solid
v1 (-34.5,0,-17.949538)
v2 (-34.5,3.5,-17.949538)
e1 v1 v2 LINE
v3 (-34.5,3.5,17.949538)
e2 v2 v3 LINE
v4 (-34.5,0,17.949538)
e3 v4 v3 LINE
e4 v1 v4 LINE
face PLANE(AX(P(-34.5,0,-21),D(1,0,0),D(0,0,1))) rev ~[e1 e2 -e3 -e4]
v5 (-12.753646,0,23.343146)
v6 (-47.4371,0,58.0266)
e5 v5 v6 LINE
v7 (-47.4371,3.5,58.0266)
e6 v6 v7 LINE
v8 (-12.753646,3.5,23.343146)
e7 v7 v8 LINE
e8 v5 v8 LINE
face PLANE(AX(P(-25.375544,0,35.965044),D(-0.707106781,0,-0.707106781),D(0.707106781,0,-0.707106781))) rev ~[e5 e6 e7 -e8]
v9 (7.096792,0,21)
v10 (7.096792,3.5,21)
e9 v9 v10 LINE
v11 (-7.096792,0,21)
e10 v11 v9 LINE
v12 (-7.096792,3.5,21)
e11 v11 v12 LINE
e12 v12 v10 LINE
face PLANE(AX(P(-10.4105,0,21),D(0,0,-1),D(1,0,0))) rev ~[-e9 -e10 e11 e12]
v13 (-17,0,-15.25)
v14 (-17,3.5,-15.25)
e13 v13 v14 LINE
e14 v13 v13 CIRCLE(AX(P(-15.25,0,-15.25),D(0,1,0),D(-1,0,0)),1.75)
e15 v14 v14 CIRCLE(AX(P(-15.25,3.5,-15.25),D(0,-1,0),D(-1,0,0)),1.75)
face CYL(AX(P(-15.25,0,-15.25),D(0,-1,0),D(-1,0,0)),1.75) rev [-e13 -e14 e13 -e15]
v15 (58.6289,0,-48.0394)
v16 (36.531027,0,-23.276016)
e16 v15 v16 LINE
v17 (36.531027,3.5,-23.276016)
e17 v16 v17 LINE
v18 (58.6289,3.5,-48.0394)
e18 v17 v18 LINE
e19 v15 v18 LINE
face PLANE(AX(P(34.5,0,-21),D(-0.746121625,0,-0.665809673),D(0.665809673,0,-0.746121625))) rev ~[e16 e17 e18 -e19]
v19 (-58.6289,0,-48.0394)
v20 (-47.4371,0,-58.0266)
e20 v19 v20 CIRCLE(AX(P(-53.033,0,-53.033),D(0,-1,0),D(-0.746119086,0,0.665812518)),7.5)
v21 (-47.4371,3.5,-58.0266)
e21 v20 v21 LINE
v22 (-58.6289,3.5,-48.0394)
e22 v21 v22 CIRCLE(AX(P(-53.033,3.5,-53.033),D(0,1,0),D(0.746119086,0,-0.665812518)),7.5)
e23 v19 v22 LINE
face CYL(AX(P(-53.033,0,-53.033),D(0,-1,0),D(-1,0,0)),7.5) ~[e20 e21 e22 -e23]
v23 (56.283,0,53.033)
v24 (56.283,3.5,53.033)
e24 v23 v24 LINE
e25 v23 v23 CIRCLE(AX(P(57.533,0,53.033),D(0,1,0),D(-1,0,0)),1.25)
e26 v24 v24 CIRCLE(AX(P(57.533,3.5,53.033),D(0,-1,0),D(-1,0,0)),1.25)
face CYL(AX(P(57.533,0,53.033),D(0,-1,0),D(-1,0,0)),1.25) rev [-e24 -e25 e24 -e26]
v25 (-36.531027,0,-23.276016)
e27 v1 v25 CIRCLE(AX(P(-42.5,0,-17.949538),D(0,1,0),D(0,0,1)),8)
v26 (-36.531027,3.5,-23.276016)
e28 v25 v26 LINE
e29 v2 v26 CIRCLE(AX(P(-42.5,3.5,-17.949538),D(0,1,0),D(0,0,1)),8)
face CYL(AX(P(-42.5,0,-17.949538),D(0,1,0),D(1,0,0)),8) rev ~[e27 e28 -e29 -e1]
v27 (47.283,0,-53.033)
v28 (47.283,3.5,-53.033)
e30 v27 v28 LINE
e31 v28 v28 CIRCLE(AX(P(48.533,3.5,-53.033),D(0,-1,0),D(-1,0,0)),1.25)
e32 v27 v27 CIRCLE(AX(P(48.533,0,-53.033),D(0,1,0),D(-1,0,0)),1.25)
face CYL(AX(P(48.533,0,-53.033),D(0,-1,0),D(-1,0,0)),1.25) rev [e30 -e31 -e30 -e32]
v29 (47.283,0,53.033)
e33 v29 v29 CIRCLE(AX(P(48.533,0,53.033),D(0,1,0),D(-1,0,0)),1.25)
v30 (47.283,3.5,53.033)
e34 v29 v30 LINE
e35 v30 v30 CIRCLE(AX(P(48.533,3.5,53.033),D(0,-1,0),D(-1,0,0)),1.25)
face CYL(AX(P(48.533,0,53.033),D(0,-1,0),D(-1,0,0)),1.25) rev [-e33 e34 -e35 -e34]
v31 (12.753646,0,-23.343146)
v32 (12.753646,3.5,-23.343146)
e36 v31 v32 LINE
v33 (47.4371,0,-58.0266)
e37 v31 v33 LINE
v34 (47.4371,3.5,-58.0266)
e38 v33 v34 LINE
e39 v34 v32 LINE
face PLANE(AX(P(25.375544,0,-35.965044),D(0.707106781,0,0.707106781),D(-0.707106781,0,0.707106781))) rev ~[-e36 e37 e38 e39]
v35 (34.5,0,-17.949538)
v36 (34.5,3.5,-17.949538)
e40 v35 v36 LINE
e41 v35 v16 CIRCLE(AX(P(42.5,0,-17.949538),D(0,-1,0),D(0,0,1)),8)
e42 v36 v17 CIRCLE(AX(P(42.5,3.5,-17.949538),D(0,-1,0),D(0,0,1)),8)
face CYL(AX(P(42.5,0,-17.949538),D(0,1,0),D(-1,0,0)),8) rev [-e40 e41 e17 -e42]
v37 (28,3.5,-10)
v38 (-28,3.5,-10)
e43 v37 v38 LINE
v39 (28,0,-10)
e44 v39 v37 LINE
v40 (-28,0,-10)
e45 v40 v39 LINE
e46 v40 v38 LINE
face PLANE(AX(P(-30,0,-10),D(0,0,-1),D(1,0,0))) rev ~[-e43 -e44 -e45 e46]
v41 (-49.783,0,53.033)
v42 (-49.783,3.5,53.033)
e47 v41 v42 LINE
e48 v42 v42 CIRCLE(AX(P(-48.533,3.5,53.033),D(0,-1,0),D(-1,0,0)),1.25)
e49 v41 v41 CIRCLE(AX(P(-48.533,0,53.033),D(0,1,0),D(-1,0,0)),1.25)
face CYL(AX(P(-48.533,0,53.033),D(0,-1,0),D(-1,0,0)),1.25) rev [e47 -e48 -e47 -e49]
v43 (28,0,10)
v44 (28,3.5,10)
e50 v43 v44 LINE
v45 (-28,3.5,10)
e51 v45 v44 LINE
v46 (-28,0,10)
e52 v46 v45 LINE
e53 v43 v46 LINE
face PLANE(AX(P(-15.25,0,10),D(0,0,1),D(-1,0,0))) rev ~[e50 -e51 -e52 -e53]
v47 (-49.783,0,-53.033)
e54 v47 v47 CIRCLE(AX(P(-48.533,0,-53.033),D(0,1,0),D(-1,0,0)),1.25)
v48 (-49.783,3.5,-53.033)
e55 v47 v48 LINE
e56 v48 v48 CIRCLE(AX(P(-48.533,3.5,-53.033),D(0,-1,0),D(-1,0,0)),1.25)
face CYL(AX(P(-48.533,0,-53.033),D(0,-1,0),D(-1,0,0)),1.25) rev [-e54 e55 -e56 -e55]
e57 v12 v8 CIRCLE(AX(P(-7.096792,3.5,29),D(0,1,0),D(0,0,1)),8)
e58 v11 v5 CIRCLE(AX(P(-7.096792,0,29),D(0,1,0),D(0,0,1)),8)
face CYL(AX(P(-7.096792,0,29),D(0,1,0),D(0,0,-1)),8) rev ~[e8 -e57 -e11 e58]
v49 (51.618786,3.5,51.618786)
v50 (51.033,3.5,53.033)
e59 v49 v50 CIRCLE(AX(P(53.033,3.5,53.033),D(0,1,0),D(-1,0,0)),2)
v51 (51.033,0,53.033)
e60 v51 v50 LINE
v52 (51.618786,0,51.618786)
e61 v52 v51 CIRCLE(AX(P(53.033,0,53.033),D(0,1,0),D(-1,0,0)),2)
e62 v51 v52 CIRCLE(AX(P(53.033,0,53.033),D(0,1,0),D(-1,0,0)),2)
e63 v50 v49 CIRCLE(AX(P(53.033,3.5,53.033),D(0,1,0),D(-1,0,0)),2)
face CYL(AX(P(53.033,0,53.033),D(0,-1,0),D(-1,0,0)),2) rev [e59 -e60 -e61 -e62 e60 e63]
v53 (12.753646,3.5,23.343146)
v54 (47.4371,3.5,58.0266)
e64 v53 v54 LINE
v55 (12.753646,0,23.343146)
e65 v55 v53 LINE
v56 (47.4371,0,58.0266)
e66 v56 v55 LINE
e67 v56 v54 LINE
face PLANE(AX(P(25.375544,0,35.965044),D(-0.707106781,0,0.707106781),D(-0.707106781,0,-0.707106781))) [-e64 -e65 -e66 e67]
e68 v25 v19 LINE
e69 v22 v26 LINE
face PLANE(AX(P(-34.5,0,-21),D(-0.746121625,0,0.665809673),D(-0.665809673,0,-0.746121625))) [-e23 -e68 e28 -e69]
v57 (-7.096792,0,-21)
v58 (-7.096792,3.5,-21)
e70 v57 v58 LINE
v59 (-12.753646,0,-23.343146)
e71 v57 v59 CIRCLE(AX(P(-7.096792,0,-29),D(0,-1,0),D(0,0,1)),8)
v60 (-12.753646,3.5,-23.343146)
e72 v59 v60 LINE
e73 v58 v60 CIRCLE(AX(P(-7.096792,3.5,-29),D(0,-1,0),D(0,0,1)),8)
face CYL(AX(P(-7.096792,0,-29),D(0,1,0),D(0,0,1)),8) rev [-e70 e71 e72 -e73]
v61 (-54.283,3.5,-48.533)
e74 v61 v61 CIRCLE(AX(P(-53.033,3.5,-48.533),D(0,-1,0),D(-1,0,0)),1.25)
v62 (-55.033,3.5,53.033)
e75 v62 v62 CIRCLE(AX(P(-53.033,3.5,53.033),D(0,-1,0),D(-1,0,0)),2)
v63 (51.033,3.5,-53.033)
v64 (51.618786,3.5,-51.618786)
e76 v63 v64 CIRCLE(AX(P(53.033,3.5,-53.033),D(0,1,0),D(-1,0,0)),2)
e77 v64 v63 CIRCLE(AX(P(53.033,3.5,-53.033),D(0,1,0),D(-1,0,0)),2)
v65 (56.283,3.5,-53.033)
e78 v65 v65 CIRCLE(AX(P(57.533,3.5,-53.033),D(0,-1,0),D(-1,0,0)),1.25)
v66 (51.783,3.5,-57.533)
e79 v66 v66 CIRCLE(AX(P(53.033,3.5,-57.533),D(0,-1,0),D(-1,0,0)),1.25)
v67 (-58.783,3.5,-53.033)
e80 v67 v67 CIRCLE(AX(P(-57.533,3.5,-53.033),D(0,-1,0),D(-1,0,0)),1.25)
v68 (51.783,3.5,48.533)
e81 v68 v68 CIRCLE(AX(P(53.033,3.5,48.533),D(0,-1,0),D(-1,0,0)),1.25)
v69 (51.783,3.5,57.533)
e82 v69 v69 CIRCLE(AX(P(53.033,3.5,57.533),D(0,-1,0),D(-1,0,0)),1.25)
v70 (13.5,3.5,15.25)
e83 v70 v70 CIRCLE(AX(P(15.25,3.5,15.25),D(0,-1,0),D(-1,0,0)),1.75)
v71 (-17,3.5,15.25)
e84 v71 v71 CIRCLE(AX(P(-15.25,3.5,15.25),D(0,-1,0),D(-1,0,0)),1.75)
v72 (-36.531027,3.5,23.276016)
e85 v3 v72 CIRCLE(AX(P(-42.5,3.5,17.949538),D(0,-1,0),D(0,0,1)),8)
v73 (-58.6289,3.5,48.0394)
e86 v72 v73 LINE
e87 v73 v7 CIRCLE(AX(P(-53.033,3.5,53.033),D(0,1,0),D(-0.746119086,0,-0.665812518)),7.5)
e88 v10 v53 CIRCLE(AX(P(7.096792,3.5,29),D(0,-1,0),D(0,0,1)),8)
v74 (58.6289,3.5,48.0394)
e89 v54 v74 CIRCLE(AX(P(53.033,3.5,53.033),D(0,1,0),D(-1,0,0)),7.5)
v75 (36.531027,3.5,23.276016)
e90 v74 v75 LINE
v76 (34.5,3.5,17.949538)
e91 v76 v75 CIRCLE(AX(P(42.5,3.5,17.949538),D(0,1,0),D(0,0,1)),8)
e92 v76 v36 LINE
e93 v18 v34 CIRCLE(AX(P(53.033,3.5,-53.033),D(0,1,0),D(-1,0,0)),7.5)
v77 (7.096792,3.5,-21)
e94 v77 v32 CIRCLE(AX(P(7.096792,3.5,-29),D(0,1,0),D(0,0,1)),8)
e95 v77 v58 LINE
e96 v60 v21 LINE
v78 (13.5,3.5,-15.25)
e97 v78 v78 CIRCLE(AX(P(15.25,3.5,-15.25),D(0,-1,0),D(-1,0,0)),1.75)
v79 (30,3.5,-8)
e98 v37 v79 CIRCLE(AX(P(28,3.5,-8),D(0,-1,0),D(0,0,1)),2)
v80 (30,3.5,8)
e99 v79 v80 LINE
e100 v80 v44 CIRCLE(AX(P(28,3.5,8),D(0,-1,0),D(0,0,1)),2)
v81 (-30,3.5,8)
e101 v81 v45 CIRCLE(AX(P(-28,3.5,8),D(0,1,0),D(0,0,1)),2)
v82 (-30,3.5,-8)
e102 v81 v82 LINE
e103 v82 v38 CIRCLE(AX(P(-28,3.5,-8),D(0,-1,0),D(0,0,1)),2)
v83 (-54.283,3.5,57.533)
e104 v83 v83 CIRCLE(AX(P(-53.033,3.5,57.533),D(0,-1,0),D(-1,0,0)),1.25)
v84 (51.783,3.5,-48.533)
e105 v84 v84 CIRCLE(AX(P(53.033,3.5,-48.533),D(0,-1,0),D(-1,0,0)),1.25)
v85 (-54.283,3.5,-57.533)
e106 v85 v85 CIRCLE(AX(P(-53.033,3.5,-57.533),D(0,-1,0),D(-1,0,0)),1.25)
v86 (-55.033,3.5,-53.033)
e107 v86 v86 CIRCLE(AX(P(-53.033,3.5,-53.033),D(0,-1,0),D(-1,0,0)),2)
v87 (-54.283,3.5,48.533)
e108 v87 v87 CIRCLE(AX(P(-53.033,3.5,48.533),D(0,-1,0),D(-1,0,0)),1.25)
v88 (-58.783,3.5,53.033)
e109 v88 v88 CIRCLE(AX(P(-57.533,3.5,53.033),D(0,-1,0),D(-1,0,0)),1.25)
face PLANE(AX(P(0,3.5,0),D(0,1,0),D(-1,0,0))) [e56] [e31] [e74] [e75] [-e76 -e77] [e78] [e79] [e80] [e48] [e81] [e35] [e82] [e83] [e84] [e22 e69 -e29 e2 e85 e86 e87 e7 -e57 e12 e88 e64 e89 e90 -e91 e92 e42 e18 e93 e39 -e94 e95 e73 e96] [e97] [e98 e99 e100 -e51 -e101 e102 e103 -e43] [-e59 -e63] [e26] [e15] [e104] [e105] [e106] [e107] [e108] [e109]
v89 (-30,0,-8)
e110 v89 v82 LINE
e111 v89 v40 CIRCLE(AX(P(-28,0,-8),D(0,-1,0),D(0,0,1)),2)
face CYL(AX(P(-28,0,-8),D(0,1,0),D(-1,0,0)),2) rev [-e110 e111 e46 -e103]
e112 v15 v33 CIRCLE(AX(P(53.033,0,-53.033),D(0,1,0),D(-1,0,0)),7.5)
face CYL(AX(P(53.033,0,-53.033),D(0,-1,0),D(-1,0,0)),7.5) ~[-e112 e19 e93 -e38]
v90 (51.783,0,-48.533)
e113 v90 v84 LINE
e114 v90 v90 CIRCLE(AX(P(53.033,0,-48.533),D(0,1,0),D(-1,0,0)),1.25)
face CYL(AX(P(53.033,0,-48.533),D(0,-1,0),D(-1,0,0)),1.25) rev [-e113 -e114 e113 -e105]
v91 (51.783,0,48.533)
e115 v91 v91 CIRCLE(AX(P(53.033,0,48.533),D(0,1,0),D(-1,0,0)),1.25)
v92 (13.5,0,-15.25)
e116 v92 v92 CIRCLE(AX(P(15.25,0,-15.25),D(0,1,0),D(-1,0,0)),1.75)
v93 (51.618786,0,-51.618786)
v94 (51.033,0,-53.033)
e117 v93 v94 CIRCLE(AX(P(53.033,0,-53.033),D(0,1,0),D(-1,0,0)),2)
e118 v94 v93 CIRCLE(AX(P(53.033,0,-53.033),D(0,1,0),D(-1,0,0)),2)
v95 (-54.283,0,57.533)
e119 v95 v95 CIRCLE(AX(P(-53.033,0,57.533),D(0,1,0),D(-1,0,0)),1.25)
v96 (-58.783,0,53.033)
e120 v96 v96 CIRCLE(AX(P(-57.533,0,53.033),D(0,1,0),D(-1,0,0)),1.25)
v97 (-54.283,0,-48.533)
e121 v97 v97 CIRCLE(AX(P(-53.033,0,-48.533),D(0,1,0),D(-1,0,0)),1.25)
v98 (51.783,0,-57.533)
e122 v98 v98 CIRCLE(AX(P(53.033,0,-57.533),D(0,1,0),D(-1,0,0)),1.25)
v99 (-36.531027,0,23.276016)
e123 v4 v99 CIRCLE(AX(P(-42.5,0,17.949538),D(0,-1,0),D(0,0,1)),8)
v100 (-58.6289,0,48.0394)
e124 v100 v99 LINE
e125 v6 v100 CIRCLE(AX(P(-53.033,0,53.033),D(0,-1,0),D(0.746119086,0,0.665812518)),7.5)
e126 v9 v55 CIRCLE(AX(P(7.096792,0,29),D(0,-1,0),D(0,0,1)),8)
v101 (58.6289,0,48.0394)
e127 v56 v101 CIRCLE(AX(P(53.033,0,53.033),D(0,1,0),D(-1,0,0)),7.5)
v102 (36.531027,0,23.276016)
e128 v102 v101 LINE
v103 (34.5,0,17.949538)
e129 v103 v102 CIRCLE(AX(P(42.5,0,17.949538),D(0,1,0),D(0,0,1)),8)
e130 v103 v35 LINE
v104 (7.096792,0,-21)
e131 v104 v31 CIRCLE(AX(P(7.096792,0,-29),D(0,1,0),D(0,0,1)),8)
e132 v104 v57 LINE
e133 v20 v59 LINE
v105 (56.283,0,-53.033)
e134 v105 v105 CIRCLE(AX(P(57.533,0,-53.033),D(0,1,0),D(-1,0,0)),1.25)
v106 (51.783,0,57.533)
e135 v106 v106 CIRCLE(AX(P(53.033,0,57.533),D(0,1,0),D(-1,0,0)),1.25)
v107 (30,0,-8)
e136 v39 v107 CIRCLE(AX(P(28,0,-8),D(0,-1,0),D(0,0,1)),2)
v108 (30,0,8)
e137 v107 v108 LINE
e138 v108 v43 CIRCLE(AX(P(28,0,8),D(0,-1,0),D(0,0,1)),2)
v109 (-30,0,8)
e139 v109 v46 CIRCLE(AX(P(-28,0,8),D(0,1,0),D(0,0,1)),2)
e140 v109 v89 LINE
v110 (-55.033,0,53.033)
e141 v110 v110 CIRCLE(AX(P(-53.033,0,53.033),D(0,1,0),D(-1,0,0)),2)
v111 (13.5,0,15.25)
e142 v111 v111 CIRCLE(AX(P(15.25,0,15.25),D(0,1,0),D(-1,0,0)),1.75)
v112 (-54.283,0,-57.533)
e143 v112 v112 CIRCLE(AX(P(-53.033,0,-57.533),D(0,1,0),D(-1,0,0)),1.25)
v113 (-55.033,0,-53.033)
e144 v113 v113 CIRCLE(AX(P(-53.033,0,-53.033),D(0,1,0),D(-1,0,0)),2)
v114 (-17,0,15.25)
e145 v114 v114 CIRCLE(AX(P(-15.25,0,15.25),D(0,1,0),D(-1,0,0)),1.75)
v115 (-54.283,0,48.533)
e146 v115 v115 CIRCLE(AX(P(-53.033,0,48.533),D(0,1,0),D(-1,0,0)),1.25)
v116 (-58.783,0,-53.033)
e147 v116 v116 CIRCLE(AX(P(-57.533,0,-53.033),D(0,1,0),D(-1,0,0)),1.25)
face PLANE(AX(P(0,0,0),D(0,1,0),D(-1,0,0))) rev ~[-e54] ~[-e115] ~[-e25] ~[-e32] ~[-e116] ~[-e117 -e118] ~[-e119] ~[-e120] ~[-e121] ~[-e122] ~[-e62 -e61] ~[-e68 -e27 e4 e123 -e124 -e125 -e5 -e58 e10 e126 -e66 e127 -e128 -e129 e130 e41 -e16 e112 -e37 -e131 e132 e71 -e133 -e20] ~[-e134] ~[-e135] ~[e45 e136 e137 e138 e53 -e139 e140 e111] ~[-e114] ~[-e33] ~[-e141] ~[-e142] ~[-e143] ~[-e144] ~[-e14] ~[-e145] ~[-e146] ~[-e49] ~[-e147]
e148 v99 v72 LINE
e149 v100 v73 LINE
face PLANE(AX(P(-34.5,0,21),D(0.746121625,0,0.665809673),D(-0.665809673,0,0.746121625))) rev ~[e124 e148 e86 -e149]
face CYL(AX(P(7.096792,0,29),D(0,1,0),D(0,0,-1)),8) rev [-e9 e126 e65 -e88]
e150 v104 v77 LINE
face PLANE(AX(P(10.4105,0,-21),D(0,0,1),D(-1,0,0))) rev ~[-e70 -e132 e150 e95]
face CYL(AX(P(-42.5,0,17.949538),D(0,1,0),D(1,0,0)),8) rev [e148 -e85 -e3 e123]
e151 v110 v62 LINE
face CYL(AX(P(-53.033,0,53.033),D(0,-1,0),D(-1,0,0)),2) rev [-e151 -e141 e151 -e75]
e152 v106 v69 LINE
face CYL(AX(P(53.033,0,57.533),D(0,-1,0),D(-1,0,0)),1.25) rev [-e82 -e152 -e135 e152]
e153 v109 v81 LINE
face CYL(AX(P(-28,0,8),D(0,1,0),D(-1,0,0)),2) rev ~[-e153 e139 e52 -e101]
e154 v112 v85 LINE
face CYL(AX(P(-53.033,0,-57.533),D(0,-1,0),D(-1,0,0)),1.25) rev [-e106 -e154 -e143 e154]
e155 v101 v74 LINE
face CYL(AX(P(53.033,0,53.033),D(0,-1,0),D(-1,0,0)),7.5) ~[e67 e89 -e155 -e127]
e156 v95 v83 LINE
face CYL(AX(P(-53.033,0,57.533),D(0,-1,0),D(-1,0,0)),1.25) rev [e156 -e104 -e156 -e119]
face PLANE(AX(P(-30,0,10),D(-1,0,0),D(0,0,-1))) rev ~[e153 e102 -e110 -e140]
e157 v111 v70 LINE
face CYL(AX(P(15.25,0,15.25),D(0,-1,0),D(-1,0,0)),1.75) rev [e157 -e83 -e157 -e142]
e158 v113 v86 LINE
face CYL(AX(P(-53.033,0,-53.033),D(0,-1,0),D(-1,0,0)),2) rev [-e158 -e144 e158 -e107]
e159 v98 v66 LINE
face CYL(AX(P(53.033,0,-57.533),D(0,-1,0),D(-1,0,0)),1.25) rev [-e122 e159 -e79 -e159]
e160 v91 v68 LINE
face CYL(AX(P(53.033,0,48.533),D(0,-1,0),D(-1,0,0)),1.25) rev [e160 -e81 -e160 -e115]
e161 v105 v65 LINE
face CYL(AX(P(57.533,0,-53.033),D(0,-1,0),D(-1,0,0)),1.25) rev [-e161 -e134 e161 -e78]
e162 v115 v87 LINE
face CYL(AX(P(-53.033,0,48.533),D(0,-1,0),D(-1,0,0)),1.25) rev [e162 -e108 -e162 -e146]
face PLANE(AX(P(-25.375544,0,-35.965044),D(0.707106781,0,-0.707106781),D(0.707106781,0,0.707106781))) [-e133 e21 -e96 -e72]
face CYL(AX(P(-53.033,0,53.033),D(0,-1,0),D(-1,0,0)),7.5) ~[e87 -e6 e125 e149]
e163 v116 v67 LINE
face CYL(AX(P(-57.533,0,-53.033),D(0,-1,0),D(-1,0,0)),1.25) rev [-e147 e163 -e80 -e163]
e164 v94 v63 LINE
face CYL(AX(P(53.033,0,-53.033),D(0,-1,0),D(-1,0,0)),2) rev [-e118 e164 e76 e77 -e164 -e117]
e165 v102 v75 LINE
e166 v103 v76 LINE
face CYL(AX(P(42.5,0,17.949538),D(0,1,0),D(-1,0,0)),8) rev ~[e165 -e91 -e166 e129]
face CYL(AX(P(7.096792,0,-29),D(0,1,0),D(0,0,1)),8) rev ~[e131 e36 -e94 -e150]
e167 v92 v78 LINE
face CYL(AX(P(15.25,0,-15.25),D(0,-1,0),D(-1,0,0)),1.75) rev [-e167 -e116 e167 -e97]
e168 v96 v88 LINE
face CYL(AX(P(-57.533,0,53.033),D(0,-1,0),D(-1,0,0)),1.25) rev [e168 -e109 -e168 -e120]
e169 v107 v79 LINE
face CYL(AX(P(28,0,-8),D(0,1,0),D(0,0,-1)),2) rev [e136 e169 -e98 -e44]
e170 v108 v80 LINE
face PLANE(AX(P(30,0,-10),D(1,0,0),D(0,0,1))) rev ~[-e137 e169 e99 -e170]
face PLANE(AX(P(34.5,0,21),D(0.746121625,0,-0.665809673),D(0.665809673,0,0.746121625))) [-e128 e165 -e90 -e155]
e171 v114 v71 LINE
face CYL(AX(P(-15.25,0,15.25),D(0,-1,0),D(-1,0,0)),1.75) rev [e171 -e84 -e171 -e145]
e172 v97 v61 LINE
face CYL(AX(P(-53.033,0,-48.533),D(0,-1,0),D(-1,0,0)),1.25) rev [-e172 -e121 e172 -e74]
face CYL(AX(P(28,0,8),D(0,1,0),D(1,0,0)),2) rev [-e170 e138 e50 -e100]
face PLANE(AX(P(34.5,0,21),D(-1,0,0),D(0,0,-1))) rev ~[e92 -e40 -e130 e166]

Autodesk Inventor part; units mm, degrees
ref_plane "YZ Plane" through (0, 0, 0) normal (1, 0, 0) x (0, 1, 0)
ref_plane "XZ Plane" through (0, 0, 0) normal (0, 1, 0) x (-1, 0, 0)
ref_plane "XY Plane" through (0, 0, 0) normal (0, 0, 1) x (1, 0, 0)
sketch "Sketch1" plane through (0, 0, 0) normal (0, 1, 0) x (-1, 0, 0)
  line L0 (15.25, -15.25) -> (-15.25, -15.25)
  line L1 (-15.25, 15.25) -> (15.25, 15.25)
  line L2 (15.25, -15.25) -> (-15.25, 15.25) construction
  line L3 (-15.25, -15.25) -> (15.25, 15.25) construction
  circle A0 centre (15.25, -15.25) radius 1.75
  circle A1 centre (-15.25, -15.25) radius 1.75
  circle A2 centre (15.25, 15.25) radius 1.75
  circle A3 centre (-15.25, 15.25) radius 1.75
  line L4 (21, -15.25) -> (-21, -15.25)
  line L5 (-21, -15.25) -> (-21, 15.25)
  line L6 (-21, 15.25) -> (21, 15.25)
  line L7 (21, 15.25) -> (21, -15.25)
  line L8 (21, -15.25) -> (-21, 15.25) construction
  line L9 (-21, -15.25) -> (21, 15.25) construction
  circle A4 centre (15.25, 15.25) radius 2.5
  circle A5 centre (-15.25, 15.25) radius 2.5
  circle A6 centre (-15.25, -15.25) radius 2.5
  circle A7 centre (15.25, -15.25) radius 2.5
  line L10 (22.5, -17.75) -> (-22.5, -17.75)
  line L11 (-22.5, -17.75) -> (-22.5, 17.75)
  line L12 (-22.5, 17.75) -> (22.5, 17.75)
  line L13 (22.5, 17.75) -> (22.5, -17.75)
  line L14 (22.5, -17.75) -> (-22.5, 17.75) construction
  line L15 (-22.5, -17.75) -> (22.5, 17.75) construction
  point P0 (0, 0)
  point P1 (12.75, 15.25)
  point P2 (17.75, 15.25)
  point P3 (17.75, -15.25)
  point P4 (12.75, -15.25)
  point P5 (-12.75, -15.25)
  point P6 (-17.75, -15.25)
  point P7 (-17.75, 15.25)
  point P8 (-12.75, 15.25)
  dimension "d0" = 30.5
  dimension "d1" = 30.5
  dimension "d2" = 3.5
  dimension "d3" = 3.5
  dimension "d4" = 3.5
  dimension "d5" = 3.5
  dimension "d6" = 42
  dimension "d7" = 5
  dimension "d8" = 5
  dimension "d9" = 5
  dimension "d10" = 5
  dimension "d11" = 45
sketch "Sketch2" plane through (0, 0, 0) normal (0, 1, 0) x (-1, 0, 0)
  line L0 (30, -10) -> (-30, -10)
  line L1 (-30, -10) -> (-30, 10)
  line L2 (-30, 10) -> (30, 10)
  line L3 (30, 10) -> (30, -10)
  line L4 (30, -10) -> (-30, 10) construction
  line L5 (-30, -10) -> (30, 10) construction
  line L6 (2.5, -2.5) -> (-2.5, -2.5)
  line L7 (-2.5, -2.5) -> (-2.5, 2.5)
  line L8 (-2.5, 2.5) -> (2.5, 2.5)
  line L9 (2.5, 2.5) -> (2.5, -2.5)
  line L10 (2.5, -2.5) -> (-2.5, 2.5) construction
  line L11 (-2.5, -2.5) -> (2.5, 2.5) construction
  line L12 (0, 0) -> (53.033, 53.033)
  line L13 (0, 0) -> (53.033, -53.033)
  line L14 (0, 0) -> (-53.033, -53.033)
  line L15 (0, 0) -> (-53.033, 53.033)
  circle A0 centre (-53.033, -53.033) radius 32.5
  circle A1 centre (53.033, -53.033) radius 32.5
  circle A2 centre (53.033, 53.033) radius 32.5
  circle A3 centre (-53.033, 53.033) radius 32.5
  circle A4 centre (-53.033, 53.033) radius 7.5
  circle A5 centre (53.033, 53.033) radius 7.5
  circle A6 centre (-53.033, -53.033) radius 7.5
  circle A7 centre (53.033, -53.033) radius 7.5
  line L16 (34.5, 21) -> (-34.5, 21)
  line L17 (-34.5, 21) -> (-34.5, -21)
  line L18 (-34.5, -21) -> (34.5, -21)
  line L19 (34.5, -21) -> (34.5, 21)
  line L20 (34.5, 21) -> (-34.5, -21) construction
  line L21 (-34.5, 21) -> (34.5, -21) construction
  line L22 (34.5, -21) -> (58.6289, -48.0394)
  line L23 (58.6289, -48.0394) -> (47.4371, -58.0266)
  line L24 (47.4371, -58.0266) -> (10.4105, -21)
  line L25 (-34.5, -21) -> (-58.6289, -48.0394)
  line L26 (-47.4371, -58.0266) -> (-10.4105, -21)
  line L27 (-34.5, 21) -> (-58.6289, 48.0394)
  line L28 (-47.4371, 58.0266) -> (-10.4105, 21)
  line L29 (47.4371, 58.0266) -> (10.4105, 21)
  line L30 (34.5, 21) -> (58.6289, 48.0394)
  line L31 (15.25, 15.25) -> (-15.25, 15.25)
  line L32 (-15.25, 15.25) -> (-15.25, -15.25)
  line L33 (-15.25, -15.25) -> (15.25, -15.25)
  line L34 (15.25, -15.25) -> (15.25, 15.25)
  line L35 (15.25, 15.25) -> (-15.25, -15.25) construction
  line L36 (-15.25, 15.25) -> (15.25, -15.25) construction
  circle A8 centre (15.25, -15.25) radius 1.75
  circle A9 centre (-15.25, -15.25) radius 1.75
  circle A10 centre (15.25, 15.25) radius 1.75
  circle A11 centre (-15.25, 15.25) radius 1.75
  circle A12 centre (53.033, 53.033) radius 4.5
  circle A13 centre (-53.033, 53.033) radius 4.5
  circle A14 centre (-53.033, -53.033) radius 4.5
  circle A15 centre (53.033, -53.033) radius 4.5
  line L37 (57.533, 53.033) -> (48.533, 53.033)
  line L38 (53.033, 57.533) -> (53.033, 48.533)
  circle A16 centre (57.533, 53.033) radius 1.25
  circle A17 centre (53.033, 48.533) radius 1.25
  circle A18 centre (48.533, 53.033) radius 1.25
  circle A19 centre (53.033, 57.533) radius 1.25
  circle A20 centre (-53.033, 57.533) radius 1.25
  circle A21 centre (-53.033, 48.533) radius 1.25
  circle A22 centre (-57.533, 53.033) radius 1.25
  circle A23 centre (-48.533, 53.033) radius 1.25
  circle A24 centre (-57.533, -53.033) radius 1.25
  circle A25 centre (-48.533, -53.033) radius 1.25
  circle A26 centre (-53.033, -57.533) radius 1.25
  circle A27 centre (-53.033, -48.533) radius 1.25
  circle A28 centre (48.533, -53.033) radius 1.25
  circle A29 centre (57.533, -53.033) radius 1.25
  circle A30 centre (53.033, -57.533) radius 1.25
  circle A31 centre (53.033, -48.533) radius 1.25
  circle A32 centre (53.033, 53.033) radius 2
  circle A33 centre (-53.033, 53.033) radius 2
  circle A34 centre (-53.033, -53.033) radius 2
  circle A35 centre (53.033, -53.033) radius 2
  dimension "d14" = 60
  dimension "d15" = 20
  dimension "d16" = 5
  dimension "d17" = 5
  dimension "d20" = 75
  dimension "d21" = 75
  dimension "d22" = 75
  dimension "d23" = 65
  dimension "d24" = 65
  dimension "d25" = 65
  dimension "d26" = 65
  dimension "d27" = 75
  dimension "d28" = 15
  dimension "d29" = 15
  dimension "d31" = 15
  dimension "d32" = 15
  dimension "d33" = 69
  dimension "d34" = 42
  dimension "d35" = 30.5
  dimension "d36" = 30.5
  dimension "d37" = 3.5
  dimension "d38" = 3.5
  dimension "d39" = 3.5
  dimension "d40" = 3.5
  dimension "d41" = 9
  dimension "d42" = 9
  dimension "d43" = 9
  dimension "d44" = 9
  dimension "d45" = 2.5
  dimension "d46" = 2.5
  dimension "d47" = 2.5
  dimension "d48" = 2.5
  dimension "d49" = 2.5
  dimension "d50" = 2.5
  dimension "d51" = 2.5
  dimension "d52" = 2.5
  dimension "d53" = 2.5
  dimension "d54" = 2.5
  dimension "d55" = 2.5
  dimension "d56" = 2.5
  dimension "d57" = 2.5
  dimension "d58" = 2.5
  dimension "d59" = 2.5
  dimension "d60" = 2.5
  dimension "d61" = 4
  dimension "d62" = 4
  dimension "d63" = 4
  dimension "d64" = 4
extrude "Extrusion2" add sketch "Sketch2" along normal blind 3.5 contours L3 L2 L34 A10 L12 L16 L19 L18 L13 A8 L0 | L34 A8 L13 L0 | L13 A8 L33 A9 L14 L0 | L2 L12 A10 L34 | L14 A9 L32 L0 | L2 L15 A11 L31 A10 L12 | L32 A9 L14 L18 L17 L16 L15 A11 L2 L1 L0 | A8 L13 L18 L14 A9 L33 | L2 L32 A11 L15 | L18 L22 A1 L13 | L13 A1 L24 L18 | L31 A11 L15 L16 L12 A10 | A1 L22 A7 L13 | L13 A7 L24 A1 | L16 L29 A2 L12 | L12 A2 L30 L16 | L18 L26 A0 L14 | L14 A0 L25 L18 | A7 L23 A15 A31 L13 | L13 A15 A28 L23 A7 | A2 L29 A5 L12 | L12 A5 L30 A2 | L16 L27 A3 L15 | L15 A3 L28 L16 | A0 L26 A6 L14 | L14 A6 L25 A0 | A15 A31 L23 A35 L13 | L13 A35 L23 A15 A28 | A7 L23 A15 A30 A29 | A12 A18 L37 A32 L12 | L12 A32 L38 A17 A12 | A5 | A3 L27 A4 L15 | L15 A4 L28 A3 | A14 A25 A26 A24 A27 | A6 | A15 A29 A30 L23 A35 | A13 A21 A22 A20 A23 | A4 | L37 A18 A12 A19 L38 A32 | A32 L37 A16 A12 A17 L38 | A32 L38 A19 A12 A16 L37
fillet "Fillet1" radius 8 8 edges at (-10.4105, 1.75, 21) (-34.5, 1.75, 21) (-34.5, 1.75, -21) (34.5, 1.75, -21) (10.4105, 1.75, -21) (10.4105, 1.75, 21) (34.5, 1.75, 21) (-10.4105, 1.75, -21)
fillet "Fillet2" radius 2 4 edges at (-30, 1.75, -10) (30, 1.75, -10) (30, 1.75, 10) (-30, 1.75, 10)
properties part number "Crazyflie Bolt Mount"
